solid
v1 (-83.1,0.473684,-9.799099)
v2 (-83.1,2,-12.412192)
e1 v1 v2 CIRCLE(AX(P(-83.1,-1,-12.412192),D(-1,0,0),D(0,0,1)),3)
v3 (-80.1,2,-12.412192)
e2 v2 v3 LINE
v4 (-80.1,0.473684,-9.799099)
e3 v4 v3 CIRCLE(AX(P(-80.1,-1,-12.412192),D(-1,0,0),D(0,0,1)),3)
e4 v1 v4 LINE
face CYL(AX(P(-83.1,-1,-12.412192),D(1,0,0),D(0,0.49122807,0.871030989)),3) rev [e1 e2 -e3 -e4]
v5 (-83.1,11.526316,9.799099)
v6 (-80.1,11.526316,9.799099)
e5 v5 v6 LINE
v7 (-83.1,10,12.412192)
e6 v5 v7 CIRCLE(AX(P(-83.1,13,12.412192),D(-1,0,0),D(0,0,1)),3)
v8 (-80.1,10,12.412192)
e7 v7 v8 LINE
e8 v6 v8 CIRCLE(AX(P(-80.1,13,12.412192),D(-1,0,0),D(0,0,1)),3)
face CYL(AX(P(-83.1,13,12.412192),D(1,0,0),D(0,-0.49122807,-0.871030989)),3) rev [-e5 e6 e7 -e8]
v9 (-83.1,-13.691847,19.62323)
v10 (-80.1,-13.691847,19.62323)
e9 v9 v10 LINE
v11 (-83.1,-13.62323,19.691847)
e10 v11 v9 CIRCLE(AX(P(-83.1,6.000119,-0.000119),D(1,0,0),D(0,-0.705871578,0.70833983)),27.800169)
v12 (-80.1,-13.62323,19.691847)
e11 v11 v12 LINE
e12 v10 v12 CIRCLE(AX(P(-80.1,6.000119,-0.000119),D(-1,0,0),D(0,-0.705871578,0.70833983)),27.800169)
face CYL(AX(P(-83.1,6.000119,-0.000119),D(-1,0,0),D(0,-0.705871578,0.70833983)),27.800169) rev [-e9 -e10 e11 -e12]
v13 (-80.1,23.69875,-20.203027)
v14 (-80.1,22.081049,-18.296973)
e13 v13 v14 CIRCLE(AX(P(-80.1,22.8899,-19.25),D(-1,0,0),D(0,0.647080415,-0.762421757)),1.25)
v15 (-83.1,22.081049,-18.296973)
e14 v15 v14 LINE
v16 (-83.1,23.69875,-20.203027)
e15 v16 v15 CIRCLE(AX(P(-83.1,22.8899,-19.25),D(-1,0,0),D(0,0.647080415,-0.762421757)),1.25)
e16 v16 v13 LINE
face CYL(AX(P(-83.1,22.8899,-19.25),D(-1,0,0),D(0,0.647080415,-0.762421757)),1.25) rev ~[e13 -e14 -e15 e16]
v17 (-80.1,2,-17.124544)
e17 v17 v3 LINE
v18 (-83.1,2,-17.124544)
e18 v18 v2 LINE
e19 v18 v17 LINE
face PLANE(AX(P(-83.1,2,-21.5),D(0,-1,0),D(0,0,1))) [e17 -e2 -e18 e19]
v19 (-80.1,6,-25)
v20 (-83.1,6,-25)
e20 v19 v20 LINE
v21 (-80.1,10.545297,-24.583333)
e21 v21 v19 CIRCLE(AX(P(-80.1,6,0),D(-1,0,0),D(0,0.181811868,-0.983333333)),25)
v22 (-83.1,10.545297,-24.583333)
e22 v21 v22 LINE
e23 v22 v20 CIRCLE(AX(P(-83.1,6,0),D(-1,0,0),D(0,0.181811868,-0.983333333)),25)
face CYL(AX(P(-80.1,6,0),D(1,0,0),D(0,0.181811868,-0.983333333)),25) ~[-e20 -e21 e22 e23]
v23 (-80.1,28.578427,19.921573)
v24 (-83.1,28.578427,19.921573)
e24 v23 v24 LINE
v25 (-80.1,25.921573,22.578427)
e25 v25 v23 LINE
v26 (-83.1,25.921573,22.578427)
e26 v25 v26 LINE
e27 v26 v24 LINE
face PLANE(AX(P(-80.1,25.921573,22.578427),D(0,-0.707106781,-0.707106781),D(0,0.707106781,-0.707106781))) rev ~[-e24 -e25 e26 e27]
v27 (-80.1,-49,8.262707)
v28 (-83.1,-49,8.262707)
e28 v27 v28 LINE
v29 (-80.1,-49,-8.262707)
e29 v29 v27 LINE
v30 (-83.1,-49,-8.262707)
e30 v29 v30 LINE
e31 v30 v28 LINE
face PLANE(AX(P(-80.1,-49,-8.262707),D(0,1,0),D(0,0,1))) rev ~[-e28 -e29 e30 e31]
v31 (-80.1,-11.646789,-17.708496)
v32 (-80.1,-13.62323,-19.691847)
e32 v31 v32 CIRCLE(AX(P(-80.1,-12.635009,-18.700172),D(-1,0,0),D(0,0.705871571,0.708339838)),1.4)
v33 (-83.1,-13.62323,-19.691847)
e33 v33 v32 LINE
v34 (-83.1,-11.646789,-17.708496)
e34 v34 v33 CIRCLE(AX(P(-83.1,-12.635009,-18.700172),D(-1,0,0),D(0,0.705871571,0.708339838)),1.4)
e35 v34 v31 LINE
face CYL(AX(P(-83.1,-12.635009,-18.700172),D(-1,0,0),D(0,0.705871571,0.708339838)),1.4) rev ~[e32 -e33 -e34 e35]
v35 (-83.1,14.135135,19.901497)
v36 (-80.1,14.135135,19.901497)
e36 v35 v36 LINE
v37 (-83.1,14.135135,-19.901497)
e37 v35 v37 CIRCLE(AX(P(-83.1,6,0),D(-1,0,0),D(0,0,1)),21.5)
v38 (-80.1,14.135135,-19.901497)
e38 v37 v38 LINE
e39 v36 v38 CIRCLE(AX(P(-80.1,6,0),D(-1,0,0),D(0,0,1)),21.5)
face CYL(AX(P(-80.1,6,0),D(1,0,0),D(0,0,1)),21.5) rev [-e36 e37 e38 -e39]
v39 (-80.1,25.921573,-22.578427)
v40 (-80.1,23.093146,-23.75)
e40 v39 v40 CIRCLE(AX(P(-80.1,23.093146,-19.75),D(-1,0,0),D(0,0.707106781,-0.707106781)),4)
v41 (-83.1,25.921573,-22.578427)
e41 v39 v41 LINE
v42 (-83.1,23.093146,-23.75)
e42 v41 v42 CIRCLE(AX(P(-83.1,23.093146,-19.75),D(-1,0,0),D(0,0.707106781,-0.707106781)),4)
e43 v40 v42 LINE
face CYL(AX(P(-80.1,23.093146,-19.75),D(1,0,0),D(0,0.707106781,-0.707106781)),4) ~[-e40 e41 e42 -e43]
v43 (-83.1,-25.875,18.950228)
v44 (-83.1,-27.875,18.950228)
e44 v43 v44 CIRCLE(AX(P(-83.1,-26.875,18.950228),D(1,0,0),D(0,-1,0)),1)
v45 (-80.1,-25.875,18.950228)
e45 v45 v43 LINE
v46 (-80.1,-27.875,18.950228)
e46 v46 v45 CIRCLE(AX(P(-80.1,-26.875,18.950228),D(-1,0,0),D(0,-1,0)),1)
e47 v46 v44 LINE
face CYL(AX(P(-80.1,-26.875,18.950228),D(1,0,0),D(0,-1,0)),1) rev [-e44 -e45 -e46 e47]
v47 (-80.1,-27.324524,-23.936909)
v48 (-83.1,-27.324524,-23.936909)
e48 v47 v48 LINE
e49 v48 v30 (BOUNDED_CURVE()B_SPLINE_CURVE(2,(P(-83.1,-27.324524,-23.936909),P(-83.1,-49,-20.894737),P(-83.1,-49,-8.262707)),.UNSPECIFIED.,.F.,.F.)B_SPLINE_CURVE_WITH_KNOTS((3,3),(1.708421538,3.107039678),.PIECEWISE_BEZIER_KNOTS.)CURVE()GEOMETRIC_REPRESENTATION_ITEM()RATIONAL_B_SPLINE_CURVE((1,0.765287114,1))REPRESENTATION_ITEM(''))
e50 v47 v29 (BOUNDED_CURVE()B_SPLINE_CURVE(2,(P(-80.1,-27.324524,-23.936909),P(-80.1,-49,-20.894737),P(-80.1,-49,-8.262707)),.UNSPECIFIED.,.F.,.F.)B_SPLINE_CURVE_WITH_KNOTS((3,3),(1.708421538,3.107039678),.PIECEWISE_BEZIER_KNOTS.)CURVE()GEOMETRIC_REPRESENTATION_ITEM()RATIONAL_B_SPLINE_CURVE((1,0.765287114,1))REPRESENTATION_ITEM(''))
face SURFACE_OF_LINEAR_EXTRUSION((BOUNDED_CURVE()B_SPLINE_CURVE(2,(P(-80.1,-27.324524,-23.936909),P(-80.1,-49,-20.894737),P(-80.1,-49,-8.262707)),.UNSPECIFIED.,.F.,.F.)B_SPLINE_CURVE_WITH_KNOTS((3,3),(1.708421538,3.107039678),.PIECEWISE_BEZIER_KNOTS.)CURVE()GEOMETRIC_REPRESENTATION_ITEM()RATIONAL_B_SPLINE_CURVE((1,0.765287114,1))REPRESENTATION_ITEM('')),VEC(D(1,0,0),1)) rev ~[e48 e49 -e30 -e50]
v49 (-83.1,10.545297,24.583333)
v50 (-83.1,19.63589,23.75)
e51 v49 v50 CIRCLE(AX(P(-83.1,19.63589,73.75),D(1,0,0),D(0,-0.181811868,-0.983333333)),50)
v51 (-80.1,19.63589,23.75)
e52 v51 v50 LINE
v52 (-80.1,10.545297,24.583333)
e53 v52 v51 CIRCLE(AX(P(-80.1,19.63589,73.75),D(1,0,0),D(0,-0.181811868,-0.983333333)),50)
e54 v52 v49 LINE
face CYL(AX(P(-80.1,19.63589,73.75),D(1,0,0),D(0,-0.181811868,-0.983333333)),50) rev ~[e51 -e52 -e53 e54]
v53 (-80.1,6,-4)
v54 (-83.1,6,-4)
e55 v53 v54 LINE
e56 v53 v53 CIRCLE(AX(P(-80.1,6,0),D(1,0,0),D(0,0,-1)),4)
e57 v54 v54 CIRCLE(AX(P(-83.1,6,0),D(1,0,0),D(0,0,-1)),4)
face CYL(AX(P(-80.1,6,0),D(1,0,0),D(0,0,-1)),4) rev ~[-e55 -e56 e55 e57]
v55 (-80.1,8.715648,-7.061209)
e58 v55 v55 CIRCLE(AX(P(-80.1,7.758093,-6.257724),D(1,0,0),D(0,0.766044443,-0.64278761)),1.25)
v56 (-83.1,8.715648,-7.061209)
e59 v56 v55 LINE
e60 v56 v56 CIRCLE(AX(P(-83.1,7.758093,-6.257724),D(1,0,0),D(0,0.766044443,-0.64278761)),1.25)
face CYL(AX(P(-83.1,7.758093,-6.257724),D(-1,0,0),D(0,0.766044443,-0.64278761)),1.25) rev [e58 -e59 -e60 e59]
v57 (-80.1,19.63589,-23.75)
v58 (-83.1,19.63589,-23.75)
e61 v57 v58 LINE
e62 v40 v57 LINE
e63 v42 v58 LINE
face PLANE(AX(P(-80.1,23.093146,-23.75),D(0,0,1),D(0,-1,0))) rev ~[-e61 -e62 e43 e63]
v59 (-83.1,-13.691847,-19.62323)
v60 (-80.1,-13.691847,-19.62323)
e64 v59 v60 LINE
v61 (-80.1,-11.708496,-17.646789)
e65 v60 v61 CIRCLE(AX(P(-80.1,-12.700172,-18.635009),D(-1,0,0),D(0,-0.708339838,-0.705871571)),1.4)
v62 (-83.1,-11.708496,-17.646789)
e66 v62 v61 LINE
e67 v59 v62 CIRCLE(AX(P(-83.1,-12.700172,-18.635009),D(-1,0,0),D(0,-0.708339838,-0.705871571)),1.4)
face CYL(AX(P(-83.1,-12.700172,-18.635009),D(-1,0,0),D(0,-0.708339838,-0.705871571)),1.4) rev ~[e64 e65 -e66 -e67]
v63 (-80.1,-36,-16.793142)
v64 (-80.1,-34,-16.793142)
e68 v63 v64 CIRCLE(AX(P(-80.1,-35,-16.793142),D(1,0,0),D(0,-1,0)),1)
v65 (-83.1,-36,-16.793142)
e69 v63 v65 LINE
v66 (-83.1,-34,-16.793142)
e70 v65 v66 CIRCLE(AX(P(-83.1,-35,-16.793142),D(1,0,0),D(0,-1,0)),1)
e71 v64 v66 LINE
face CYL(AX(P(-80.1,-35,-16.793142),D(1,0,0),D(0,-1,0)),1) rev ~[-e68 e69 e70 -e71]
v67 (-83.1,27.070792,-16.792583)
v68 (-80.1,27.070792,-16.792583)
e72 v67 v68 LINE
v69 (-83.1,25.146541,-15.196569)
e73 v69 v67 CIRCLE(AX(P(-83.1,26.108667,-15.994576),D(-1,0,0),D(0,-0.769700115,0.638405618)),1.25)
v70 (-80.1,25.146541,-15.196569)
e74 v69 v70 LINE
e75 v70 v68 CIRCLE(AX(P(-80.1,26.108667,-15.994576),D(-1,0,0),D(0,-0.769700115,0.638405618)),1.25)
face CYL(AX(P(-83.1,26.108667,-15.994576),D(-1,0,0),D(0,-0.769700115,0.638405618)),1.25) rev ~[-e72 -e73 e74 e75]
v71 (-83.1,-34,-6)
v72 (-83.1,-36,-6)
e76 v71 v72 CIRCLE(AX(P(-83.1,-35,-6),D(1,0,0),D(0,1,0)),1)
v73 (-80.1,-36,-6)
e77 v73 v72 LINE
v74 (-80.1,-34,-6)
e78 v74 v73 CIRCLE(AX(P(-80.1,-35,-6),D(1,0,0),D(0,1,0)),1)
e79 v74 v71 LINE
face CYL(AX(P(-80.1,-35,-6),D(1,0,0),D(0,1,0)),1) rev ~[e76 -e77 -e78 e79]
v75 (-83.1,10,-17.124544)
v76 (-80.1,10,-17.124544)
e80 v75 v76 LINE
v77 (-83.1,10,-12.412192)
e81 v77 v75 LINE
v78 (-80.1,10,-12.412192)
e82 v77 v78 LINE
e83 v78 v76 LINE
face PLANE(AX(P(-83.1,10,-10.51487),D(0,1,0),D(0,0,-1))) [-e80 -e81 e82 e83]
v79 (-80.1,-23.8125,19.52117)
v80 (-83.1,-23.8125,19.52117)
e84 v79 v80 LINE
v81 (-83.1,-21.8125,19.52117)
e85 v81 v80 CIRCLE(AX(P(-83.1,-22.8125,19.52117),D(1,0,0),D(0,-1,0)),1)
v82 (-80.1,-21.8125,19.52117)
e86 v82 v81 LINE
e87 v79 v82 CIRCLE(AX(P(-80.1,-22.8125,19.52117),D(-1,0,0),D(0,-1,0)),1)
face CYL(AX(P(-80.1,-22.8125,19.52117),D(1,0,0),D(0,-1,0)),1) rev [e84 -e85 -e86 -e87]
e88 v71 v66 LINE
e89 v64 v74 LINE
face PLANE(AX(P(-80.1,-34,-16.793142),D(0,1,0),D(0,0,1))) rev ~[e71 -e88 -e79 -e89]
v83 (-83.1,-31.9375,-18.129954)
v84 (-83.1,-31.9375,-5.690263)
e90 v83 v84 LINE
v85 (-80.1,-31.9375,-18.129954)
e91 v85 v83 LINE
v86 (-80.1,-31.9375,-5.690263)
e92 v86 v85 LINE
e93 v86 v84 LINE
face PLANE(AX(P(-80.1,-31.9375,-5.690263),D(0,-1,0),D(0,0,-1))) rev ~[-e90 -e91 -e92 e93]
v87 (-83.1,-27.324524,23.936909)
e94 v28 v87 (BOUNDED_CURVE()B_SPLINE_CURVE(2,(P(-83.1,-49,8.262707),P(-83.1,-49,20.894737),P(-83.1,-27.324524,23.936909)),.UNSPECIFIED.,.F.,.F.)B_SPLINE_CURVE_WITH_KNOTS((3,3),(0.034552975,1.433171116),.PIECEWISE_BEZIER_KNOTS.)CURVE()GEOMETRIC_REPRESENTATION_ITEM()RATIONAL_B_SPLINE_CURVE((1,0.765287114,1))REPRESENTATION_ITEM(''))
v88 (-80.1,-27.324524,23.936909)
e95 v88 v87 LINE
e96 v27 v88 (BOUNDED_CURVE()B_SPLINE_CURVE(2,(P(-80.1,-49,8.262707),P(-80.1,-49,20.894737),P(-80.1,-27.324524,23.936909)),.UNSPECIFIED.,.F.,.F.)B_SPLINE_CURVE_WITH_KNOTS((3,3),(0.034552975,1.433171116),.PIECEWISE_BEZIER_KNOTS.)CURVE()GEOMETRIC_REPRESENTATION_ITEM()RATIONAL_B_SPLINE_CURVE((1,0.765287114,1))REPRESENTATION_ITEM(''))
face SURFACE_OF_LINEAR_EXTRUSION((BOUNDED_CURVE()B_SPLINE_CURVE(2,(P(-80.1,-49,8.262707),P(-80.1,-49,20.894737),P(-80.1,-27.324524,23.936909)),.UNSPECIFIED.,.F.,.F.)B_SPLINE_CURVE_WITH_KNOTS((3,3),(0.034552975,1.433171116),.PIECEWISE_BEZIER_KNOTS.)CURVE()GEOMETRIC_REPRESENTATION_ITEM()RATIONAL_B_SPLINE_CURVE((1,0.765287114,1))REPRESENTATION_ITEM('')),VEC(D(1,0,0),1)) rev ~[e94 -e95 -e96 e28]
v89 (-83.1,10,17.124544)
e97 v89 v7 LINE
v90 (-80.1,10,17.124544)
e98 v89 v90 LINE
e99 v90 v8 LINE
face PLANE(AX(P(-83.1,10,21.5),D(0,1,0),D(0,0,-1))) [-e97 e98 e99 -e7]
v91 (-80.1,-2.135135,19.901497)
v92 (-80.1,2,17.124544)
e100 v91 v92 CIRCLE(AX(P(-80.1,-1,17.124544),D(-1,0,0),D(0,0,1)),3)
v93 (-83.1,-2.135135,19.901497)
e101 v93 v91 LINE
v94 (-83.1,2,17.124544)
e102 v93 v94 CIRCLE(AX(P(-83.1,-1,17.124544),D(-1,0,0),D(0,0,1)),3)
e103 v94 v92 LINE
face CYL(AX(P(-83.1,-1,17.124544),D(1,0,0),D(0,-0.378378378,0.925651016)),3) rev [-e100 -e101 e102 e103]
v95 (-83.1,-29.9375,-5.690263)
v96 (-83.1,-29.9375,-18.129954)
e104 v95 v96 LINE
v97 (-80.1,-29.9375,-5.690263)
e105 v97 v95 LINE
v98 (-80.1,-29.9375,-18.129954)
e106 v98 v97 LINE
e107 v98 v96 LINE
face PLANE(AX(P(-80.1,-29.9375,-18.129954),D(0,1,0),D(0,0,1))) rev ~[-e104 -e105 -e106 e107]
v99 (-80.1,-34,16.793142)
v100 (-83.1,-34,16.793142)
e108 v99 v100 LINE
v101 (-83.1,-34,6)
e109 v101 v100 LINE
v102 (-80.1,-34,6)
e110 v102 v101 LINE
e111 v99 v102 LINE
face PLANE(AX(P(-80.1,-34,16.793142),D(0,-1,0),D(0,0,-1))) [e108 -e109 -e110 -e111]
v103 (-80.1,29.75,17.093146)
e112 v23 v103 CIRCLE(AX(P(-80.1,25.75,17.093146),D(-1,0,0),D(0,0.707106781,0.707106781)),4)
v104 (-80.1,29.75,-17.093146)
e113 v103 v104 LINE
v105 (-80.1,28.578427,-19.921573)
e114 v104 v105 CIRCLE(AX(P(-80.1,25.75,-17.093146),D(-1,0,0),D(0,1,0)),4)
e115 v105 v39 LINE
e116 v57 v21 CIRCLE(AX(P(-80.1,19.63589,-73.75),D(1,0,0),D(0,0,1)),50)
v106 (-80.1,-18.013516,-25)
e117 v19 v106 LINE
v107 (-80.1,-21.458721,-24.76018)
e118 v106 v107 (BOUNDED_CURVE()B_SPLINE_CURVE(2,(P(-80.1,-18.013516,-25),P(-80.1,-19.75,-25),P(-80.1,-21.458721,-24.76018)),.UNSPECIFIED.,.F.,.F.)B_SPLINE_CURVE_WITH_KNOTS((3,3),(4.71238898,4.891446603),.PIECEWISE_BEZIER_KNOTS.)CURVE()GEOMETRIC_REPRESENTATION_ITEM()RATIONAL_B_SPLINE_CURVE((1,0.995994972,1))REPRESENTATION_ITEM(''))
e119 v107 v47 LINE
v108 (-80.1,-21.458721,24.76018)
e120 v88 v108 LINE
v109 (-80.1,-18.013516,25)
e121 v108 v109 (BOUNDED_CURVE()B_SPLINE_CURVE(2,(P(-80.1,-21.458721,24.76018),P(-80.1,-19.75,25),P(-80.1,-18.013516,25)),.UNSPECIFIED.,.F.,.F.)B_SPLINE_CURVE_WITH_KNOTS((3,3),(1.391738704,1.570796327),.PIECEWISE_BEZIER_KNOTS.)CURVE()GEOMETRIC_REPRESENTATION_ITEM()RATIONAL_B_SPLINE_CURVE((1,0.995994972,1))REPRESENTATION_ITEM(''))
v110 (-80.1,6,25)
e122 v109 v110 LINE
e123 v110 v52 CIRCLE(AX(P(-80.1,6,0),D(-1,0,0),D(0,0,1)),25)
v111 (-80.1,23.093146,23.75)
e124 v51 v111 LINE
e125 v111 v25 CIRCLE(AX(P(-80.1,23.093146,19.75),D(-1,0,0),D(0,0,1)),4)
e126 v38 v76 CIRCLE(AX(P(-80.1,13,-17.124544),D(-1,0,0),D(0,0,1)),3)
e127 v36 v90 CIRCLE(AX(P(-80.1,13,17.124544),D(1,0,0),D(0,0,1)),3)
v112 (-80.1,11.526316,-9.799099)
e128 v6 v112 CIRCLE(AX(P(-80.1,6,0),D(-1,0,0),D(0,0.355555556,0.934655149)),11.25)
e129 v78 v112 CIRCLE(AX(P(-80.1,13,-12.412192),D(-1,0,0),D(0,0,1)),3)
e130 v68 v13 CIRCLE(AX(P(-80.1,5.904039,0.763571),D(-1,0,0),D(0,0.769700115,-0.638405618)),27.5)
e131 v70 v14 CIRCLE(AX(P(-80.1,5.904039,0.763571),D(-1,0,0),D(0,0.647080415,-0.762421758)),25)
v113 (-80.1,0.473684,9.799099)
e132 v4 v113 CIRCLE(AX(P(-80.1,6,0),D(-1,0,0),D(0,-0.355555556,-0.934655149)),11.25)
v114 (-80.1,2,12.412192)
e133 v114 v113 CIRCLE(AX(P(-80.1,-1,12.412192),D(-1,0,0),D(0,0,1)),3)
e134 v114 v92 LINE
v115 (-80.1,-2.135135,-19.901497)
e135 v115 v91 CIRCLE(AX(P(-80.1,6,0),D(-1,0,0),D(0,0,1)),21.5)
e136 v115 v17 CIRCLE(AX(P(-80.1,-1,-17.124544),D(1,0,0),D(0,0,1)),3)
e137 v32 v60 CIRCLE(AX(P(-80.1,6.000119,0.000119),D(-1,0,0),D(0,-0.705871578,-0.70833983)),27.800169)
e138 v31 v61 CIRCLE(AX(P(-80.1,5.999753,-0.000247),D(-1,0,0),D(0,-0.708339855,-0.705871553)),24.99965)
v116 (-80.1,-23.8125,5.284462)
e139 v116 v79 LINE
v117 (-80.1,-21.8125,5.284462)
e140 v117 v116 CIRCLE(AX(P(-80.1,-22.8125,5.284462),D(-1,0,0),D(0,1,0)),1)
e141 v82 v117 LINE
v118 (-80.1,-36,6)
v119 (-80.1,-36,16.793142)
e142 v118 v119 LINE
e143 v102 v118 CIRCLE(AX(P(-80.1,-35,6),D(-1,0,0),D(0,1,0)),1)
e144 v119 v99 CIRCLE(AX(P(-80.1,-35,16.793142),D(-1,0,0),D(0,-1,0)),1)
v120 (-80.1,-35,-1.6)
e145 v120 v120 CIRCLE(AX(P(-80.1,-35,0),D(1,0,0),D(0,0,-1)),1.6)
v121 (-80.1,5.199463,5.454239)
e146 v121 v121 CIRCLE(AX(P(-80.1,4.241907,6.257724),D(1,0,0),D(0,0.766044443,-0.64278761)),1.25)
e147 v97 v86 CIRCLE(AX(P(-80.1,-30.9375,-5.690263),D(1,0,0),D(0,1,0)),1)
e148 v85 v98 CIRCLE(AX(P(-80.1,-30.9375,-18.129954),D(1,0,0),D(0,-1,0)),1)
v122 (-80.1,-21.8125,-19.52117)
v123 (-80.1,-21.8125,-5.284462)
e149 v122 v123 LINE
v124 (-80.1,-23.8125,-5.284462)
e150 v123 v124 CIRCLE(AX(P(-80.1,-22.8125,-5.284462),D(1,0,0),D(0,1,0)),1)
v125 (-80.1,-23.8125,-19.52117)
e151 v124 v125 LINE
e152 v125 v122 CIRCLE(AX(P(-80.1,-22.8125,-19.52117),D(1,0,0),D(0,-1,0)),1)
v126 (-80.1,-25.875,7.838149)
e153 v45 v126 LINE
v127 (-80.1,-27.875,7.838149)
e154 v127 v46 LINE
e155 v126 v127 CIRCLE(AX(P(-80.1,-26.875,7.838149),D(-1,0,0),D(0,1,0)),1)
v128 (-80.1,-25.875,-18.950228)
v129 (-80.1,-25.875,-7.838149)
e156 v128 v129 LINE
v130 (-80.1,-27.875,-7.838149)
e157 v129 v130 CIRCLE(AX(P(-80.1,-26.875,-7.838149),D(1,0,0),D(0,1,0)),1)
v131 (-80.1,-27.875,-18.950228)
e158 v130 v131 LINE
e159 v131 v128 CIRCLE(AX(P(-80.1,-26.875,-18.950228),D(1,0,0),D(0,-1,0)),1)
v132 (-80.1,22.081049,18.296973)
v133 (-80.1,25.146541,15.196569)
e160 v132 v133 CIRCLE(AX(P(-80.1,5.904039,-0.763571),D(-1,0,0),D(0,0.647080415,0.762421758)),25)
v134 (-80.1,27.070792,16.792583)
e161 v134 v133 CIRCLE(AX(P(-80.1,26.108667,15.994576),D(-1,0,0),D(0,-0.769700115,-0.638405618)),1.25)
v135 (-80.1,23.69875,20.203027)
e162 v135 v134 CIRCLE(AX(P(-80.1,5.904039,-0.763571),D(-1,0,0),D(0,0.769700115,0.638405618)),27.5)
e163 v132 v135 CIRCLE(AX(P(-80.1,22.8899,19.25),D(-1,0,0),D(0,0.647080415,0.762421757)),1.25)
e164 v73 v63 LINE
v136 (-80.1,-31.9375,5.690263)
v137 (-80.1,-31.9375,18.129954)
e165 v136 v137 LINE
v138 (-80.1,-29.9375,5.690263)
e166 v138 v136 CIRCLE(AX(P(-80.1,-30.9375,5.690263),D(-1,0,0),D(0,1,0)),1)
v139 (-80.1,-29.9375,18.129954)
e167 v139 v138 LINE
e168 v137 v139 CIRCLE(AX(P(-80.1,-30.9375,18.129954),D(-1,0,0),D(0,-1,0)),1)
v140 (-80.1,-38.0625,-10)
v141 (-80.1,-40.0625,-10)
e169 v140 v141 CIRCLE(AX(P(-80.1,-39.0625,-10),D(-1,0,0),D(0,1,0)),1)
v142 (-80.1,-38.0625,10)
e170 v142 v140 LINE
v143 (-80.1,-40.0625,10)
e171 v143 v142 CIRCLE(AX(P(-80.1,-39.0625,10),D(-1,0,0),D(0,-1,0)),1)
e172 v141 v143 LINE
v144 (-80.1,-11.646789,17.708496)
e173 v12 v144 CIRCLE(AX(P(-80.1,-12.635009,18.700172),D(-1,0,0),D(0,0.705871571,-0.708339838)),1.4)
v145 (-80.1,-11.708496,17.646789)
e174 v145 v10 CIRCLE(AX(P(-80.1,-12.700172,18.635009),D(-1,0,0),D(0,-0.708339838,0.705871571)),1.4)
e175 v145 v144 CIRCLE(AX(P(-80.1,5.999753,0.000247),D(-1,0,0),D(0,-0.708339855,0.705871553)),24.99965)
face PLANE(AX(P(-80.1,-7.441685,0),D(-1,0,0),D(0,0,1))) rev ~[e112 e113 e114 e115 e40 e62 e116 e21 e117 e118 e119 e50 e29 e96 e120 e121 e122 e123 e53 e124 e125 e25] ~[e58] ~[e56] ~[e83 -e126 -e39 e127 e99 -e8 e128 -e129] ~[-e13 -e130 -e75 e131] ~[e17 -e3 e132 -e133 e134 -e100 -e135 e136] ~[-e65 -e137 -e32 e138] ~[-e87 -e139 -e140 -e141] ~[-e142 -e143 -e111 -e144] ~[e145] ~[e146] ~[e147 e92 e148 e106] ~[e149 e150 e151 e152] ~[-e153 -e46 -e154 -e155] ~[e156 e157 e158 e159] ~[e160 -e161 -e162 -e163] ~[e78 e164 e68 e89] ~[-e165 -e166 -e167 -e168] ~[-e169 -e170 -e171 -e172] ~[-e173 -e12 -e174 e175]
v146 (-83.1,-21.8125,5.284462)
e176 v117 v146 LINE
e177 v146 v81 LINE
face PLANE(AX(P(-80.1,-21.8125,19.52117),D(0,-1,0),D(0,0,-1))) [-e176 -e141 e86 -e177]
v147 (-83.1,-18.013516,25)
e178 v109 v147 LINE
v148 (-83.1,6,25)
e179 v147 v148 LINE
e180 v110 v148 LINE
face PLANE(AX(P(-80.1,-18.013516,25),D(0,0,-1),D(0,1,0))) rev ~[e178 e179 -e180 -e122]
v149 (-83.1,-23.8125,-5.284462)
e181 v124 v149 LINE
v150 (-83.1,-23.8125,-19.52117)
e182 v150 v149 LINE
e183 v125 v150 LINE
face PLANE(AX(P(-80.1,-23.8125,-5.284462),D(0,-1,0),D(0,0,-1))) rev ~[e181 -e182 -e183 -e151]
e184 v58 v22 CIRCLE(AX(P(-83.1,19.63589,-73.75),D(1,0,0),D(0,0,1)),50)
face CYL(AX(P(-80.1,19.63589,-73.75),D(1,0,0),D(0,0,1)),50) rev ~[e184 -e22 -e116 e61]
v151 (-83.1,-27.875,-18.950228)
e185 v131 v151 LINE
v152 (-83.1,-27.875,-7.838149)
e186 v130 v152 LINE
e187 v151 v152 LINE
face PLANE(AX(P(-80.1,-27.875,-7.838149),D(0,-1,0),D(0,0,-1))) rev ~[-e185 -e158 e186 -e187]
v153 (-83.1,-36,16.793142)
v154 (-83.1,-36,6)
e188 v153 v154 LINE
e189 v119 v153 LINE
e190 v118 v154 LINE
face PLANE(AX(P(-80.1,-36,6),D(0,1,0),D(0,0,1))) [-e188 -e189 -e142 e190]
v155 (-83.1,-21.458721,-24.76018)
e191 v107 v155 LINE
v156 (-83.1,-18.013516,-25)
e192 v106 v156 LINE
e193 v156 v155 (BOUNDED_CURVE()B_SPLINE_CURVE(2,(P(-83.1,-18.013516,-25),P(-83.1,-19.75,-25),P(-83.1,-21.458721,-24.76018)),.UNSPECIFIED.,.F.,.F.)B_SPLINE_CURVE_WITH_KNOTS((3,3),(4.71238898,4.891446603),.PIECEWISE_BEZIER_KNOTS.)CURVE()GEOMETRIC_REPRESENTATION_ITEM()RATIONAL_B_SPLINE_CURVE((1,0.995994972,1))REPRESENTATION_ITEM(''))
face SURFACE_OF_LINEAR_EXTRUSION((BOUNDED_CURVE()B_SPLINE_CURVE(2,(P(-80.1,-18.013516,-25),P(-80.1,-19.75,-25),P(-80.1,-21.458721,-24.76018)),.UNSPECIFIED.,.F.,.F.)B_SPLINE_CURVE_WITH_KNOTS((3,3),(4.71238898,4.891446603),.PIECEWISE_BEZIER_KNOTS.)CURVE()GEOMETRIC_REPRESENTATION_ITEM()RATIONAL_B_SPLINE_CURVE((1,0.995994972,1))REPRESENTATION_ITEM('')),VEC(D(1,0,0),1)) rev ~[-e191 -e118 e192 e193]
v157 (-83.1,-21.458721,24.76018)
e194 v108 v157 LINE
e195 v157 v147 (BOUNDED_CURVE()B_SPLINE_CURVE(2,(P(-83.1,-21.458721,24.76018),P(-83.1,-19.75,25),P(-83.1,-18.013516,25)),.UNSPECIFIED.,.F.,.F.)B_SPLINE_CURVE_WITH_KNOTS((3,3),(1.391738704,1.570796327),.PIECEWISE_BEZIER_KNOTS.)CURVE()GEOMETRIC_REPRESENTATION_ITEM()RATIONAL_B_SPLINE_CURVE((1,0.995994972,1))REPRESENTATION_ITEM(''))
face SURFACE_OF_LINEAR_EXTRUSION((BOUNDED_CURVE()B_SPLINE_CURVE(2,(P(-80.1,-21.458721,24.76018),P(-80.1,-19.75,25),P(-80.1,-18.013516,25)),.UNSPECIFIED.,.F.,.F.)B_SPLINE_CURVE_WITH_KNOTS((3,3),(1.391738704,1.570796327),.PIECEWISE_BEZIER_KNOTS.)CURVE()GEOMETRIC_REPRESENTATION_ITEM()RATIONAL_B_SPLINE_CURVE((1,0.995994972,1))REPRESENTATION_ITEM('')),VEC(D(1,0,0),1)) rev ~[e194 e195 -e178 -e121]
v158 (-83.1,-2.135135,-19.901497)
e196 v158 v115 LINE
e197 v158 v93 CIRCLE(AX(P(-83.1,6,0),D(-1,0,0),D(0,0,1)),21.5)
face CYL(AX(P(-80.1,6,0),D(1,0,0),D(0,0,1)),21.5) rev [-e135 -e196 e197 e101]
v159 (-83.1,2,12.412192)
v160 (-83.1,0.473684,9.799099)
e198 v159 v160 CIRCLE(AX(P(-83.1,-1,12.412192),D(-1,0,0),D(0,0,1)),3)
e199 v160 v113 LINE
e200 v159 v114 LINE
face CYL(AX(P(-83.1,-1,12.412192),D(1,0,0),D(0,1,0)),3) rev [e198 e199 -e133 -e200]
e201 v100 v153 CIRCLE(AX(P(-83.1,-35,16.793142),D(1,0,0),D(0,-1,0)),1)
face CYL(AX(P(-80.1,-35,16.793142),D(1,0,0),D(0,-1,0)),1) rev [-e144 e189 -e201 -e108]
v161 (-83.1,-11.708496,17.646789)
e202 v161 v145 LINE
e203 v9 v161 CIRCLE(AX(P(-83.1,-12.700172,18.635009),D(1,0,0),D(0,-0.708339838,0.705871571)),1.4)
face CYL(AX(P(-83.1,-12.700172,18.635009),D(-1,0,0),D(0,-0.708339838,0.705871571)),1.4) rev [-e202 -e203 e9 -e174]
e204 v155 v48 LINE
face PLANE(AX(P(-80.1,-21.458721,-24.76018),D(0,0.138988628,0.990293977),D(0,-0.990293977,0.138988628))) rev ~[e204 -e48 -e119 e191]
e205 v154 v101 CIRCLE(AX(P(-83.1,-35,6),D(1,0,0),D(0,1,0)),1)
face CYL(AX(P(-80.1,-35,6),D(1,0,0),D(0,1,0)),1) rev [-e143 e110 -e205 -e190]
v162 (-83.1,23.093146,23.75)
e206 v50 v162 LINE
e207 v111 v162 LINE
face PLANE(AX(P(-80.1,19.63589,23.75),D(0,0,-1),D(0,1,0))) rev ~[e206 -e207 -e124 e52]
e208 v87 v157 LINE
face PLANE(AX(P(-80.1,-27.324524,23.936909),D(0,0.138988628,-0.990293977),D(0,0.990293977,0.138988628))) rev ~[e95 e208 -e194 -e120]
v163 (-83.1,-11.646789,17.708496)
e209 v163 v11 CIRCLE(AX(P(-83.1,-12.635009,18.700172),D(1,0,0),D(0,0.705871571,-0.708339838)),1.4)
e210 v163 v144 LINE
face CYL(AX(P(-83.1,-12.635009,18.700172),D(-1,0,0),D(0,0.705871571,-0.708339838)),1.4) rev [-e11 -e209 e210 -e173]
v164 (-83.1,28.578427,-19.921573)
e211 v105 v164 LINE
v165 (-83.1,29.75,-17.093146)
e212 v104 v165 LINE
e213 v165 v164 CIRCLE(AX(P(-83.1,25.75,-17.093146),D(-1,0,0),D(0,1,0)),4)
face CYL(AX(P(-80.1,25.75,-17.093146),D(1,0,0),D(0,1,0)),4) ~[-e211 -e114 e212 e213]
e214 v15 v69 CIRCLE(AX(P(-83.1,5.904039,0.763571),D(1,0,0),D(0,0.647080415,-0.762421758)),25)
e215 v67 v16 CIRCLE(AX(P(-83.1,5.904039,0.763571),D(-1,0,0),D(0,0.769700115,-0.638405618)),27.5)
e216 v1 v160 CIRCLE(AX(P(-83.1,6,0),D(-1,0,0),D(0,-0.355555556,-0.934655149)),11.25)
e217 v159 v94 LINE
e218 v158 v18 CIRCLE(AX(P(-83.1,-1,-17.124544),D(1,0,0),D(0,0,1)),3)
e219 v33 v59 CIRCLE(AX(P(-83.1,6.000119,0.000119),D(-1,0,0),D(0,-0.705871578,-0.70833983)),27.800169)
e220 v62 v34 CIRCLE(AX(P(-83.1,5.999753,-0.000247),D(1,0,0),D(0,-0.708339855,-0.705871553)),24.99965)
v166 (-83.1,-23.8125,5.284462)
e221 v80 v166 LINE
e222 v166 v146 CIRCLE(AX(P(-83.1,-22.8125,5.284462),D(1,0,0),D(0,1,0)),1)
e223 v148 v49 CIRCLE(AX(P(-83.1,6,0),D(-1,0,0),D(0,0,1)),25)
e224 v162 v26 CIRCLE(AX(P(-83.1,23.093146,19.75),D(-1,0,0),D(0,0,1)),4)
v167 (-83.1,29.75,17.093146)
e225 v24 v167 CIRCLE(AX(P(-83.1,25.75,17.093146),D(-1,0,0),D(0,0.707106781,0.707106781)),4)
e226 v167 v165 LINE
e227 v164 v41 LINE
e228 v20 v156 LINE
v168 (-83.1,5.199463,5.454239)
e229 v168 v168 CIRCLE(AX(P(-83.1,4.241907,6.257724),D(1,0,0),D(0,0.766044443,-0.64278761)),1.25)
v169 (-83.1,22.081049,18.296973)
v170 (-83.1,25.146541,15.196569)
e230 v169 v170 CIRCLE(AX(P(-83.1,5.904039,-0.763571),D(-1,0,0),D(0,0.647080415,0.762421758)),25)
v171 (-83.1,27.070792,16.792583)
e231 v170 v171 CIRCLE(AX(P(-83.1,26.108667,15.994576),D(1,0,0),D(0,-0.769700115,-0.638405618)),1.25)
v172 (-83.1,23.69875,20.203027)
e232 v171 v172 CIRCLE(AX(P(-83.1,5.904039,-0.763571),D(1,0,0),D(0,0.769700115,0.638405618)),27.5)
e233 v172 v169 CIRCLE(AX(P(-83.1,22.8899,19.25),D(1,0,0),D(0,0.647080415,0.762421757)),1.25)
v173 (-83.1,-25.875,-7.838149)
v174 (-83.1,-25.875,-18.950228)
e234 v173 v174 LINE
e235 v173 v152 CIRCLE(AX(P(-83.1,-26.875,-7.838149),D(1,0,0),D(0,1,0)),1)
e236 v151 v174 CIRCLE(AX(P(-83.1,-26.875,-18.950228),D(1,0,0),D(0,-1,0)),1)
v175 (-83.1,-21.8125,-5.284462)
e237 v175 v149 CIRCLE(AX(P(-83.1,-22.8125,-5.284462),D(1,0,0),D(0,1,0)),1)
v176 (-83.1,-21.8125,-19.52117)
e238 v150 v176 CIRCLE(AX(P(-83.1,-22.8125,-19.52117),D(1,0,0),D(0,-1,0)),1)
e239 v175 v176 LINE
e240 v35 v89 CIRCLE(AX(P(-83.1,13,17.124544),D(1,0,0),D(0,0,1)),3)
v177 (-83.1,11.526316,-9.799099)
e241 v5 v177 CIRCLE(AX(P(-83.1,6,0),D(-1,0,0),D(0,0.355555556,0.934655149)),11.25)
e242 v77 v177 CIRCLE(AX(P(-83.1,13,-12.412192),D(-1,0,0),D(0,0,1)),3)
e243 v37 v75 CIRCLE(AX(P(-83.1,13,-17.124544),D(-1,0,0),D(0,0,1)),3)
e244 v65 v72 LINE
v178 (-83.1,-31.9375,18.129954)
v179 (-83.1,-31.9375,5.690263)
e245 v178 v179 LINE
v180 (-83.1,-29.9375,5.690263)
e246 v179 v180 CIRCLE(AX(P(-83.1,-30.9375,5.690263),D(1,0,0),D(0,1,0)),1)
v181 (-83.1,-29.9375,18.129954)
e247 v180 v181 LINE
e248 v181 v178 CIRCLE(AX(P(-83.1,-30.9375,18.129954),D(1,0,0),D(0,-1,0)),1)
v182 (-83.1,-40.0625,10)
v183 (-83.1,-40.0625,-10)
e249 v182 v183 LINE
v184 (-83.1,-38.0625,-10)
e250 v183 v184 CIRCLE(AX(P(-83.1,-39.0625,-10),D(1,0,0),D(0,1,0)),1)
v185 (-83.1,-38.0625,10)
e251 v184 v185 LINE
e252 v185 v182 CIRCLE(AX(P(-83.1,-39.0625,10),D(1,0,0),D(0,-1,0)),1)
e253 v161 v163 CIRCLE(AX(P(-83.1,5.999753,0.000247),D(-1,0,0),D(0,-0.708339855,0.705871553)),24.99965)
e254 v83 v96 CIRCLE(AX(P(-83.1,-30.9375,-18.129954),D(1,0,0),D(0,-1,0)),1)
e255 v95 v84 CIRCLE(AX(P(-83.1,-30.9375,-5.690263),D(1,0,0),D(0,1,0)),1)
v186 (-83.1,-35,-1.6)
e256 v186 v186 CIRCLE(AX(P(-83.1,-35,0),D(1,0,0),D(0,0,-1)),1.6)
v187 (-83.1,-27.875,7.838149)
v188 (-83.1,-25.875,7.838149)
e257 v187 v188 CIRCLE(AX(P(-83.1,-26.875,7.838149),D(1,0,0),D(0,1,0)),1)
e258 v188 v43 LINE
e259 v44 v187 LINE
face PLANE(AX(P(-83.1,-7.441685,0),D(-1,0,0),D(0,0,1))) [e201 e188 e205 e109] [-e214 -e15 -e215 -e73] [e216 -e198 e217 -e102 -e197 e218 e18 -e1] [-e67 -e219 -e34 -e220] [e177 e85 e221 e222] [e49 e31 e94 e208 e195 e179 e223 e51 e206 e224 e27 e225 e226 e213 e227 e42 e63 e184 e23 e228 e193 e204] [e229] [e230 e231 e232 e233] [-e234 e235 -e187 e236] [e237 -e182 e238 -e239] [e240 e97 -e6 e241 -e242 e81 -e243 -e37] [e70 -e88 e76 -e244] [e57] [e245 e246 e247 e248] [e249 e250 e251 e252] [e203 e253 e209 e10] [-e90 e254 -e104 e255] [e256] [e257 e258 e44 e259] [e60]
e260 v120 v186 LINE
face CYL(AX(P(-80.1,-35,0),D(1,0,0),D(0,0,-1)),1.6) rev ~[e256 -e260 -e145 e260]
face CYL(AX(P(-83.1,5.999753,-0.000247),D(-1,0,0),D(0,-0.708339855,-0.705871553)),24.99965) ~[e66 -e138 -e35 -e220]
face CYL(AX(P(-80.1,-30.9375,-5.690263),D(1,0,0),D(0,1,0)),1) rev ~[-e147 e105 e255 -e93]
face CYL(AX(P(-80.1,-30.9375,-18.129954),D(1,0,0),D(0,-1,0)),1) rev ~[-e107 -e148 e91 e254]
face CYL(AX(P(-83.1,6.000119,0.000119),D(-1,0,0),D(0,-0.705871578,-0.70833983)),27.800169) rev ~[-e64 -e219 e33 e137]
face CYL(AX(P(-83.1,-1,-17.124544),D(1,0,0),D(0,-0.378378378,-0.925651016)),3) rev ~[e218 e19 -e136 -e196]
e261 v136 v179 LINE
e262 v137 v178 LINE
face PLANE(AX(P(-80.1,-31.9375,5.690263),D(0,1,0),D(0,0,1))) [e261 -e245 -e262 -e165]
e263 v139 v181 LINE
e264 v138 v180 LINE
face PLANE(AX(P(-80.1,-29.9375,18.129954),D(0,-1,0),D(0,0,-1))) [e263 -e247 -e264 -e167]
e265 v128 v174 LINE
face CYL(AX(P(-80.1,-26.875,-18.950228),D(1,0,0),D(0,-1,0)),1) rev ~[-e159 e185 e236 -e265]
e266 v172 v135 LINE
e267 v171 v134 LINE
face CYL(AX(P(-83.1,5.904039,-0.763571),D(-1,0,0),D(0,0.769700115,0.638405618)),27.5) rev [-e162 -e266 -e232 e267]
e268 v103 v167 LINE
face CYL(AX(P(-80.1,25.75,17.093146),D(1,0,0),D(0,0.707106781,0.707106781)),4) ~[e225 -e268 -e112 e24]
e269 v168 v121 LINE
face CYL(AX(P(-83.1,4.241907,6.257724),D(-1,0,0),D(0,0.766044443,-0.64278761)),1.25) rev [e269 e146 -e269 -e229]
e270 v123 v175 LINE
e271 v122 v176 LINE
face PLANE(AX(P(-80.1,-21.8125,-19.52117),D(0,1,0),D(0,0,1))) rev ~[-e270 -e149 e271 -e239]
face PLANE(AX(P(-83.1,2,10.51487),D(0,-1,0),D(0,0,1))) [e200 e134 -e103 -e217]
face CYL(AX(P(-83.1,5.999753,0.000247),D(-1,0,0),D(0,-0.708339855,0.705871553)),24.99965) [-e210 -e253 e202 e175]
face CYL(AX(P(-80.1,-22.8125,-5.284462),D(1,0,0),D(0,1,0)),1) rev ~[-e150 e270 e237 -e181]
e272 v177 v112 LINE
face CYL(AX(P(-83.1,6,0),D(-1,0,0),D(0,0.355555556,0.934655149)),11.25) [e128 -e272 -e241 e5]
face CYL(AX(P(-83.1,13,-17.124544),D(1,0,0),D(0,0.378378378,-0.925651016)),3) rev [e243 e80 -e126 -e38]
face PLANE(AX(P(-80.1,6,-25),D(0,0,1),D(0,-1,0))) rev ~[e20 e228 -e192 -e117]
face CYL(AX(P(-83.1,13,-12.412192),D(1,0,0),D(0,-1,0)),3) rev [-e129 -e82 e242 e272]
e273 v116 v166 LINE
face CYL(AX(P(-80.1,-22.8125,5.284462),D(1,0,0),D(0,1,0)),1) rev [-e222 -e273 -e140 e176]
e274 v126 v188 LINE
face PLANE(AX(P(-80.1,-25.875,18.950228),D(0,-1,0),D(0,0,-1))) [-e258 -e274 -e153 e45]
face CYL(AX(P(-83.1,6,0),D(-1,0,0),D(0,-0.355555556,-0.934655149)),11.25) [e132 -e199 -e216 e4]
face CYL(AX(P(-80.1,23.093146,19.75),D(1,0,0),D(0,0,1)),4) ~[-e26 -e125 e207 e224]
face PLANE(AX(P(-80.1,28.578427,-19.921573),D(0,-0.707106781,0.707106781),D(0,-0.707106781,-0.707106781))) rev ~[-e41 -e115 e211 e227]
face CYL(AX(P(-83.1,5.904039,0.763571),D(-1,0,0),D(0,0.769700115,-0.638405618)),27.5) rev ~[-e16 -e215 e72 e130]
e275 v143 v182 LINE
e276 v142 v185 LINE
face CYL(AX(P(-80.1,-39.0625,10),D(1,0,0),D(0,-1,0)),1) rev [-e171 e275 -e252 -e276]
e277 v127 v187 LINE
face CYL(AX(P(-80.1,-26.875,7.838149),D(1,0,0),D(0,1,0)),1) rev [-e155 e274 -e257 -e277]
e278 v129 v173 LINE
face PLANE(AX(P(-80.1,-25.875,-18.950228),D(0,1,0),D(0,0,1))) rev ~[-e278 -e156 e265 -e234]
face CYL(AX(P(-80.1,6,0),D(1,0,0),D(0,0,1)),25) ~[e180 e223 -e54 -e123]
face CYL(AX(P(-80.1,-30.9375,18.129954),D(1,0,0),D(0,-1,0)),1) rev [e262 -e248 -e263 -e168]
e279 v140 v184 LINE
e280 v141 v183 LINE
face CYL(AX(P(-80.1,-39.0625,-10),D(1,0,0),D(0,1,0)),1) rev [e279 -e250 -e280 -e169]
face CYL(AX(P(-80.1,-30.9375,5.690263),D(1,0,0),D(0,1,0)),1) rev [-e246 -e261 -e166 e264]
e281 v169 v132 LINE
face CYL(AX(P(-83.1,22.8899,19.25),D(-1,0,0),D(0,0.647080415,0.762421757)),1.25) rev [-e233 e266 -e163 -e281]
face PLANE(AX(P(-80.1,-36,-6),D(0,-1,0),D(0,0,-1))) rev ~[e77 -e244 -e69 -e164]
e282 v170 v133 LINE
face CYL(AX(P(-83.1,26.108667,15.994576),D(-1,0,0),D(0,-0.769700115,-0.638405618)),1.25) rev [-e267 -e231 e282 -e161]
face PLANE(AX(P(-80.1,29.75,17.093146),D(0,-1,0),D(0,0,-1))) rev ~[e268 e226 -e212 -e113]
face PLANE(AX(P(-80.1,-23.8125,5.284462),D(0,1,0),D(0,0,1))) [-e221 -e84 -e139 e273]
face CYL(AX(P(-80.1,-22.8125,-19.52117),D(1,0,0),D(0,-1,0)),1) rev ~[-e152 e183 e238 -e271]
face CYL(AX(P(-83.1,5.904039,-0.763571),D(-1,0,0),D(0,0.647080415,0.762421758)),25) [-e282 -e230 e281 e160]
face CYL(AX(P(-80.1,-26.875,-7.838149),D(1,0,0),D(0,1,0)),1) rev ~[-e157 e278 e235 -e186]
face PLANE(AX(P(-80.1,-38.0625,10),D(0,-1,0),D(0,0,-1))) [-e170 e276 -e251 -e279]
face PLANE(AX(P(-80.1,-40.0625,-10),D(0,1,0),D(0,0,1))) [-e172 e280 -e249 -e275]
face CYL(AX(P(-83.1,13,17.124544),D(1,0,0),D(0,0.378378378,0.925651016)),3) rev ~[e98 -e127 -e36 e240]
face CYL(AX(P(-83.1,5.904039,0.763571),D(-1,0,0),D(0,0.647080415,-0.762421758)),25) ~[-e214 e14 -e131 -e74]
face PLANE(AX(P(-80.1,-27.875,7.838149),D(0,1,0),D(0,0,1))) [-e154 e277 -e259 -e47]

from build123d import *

# Parameters (mm, degrees)
SKETCH2_R           = 21.5
BOSS_EXTRUDE1_DEPTH = 3
CUT_EXTRUDE1_DEPTH  = 4.0000001
SKETCH4_R           = 1.6
CUT_EXTRUDE2_DEPTH  = 4.0000001
CUT_EXTRUDE3_DEPTH  = 4.0000001
BOSS_EXTRUDE3_DEPTH = 3
FILLET1_R           = 3
SKETCH7_R           = 4
CUT_EXTRUDE4_DEPTH  = 4.0000001


with BuildPart() as part:
    # Sketch2 → Boss-Extrude1 (new body)
    with BuildSketch(Plane.ZY.offset(80.1)):
        with BuildLine():
            ThreePointArc((-17.093145751, 29.75), (-18.62387948, 29.44551813), (-19.921572875, 28.578427125))
            Line((-19.921572875, 28.578427125), (-22.578427125, 25.921572875))
            ThreePointArc((-22.578427125, 25.921572875), (-23.44551813, 24.62387948), (-23.75, 23.093145751))
            Line((-23.75, 23.093145751), (-23.75, 19.635890143))
            ThreePointArc((-23.75, 19.635890143), (-23.958769179, 15.071535497), (-24.583333333, 10.545296714))
            ThreePointArc((-24.583333333, 10.545296714), (-24.89561541, 8.282177323), (-25, 6))
            Line((-25, 6), (-25, -18.013516259))
            add(Edge.make_bspline(
                [(-25, -18.013516259), (-25, -19.75), (-24.760179539, -21.458720786)],
                knots=[4.71238898, 4.71238898, 4.71238898, 4.891446603, 4.891446603, 4.891446603], degree=2, weights=[1, 0.995994972, 1]))
            Line((-24.760179539, -21.458720786), (-23.936908844, -27.324524486))
            add(Edge.make_bspline(
                [(-23.936908844, -27.324524486), (-20.894736842, -49), (-8.26270655, -49)],
                knots=[1.708421538, 1.708421538, 1.708421538, 3.107039678, 3.107039678, 3.107039678], degree=2, weights=[1, 0.765287114, 1]))
            Line((-8.26270655, -49), (8.26270655, -49))
            add(Edge.make_bspline(
                [(8.26270655, -49), (20.894736842, -49), (23.936908844, -27.324524486)],
                knots=[0.034552975, 0.034552975, 0.034552975, 1.433171116, 1.433171116, 1.433171116], degree=2, weights=[1, 0.765287114, 1]))
            Line((23.936908844, -27.324524486), (24.760179539, -21.458720786))
            add(Edge.make_bspline(
                [(24.760179539, -21.458720786), (25, -19.75), (25, -18.013516259)],
                knots=[1.391738704, 1.391738704, 1.391738704, 1.570796327, 1.570796327, 1.570796327], degree=2, weights=[1, 0.995994972, 1]))
            Line((25, -18.013516259), (25, 6))
            ThreePointArc((25, 6), (24.89561541, 8.282177323), (24.583333333, 10.545296714))
            ThreePointArc((24.583333333, 10.545296714), (23.958769179, 15.071535497), (23.75, 19.635890143))
            Line((23.75, 19.635890143), (23.75, 23.093145751))
            ThreePointArc((23.75, 23.093145751), (23.44551813, 24.62387948), (22.578427125, 25.921572875))
            Line((22.578427125, 25.921572875), (19.921572875, 28.578427125))
            ThreePointArc((19.921572875, 28.578427125), (18.62387948, 29.44551813), (17.093145751, 29.75))
            Line((17.093145751, 29.75), (-17.093145751, 29.75))
        make_face()
        with Locations((0, 6)):
            Circle(SKETCH2_R, mode=Mode.SUBTRACT)
    extrude(amount=BOSS_EXTRUDE1_DEPTH)

    # Sketch3 → Cut-Extrude1 (cut, through all)
    with BuildSketch(Plane.ZY.offset(83.1)):
        with BuildLine():
            ThreePointArc((-15.196569313, 25.146541488), (-15.032451192, 26.906673654), (-16.792583358, 27.070791775))
            ThreePointArc((-16.792583358, 27.070791775), (-18.571456346, 25.459260737), (-20.203027197, 23.698750028))
            ThreePointArc((-20.203027197, 23.698750028), (-20.058850519, 21.936872312), (-18.296972803, 22.081048991))
            ThreePointArc((-18.296972803, 22.081048991), (-16.813726575, 23.681513271), (-15.196569313, 25.146541488))
        make_face()
        with BuildLine():
            ThreePointArc((-19.691847489, -13.623229665), (-19.657568517, -13.657568517), (-19.623229665, -13.691847489))
            ThreePointArc((-19.623229665, -13.691847489), (-17.643333693, -13.688391915), (-17.646789267, -11.708495943))
            ThreePointArc((-17.646789267, -11.708495943), (-17.67766953, -11.67766953), (-17.708495943, -11.646789267))
            ThreePointArc((-17.708495943, -11.646789267), (-19.688391915, -11.643333693), (-19.691847489, -13.623229665))
        make_face()
        with BuildLine():
            ThreePointArc((17.646789267, -11.708495943), (17.67766953, -11.67766953), (17.708495943, -11.646789267))
            ThreePointArc((17.708495943, -11.646789267), (19.688391915, -11.643333693), (19.691847489, -13.623229665))
            ThreePointArc((19.691847489, -13.623229665), (19.657568517, -13.657568517), (19.623229665, -13.691847489))
            ThreePointArc((19.623229665, -13.691847489), (17.643333693, -13.688391915), (17.646789267, -11.708495943))
        make_face()
        with BuildLine():
            ThreePointArc((18.296972803, 22.081048991), (16.813726575, 23.681513271), (15.196569313, 25.146541488))
            ThreePointArc((15.196569313, 25.146541488), (15.032451192, 26.906673654), (16.792583358, 27.070791775))
            ThreePointArc((16.792583358, 27.070791775), (18.571456346, 25.459260737), (20.203027197, 23.698750028))
            ThreePointArc((20.203027197, 23.698750028), (20.058850519, 21.936872312), (18.296972803, 22.081048991))
        make_face()
    extrude(amount=-CUT_EXTRUDE1_DEPTH, mode=Mode.SUBTRACT)

    # Sketch4 → Cut-Extrude2 (cut, through all)
    with BuildSketch(Plane(origin=(-80.1, 0, 0), x_dir=(0, 0, -1), z_dir=(1, 0, 0))):
        with Locations((0, -35)):
            Circle(SKETCH4_R)
    extrude(amount=-CUT_EXTRUDE2_DEPTH, mode=Mode.SUBTRACT)

    # Sketch5 → Cut-Extrude3 (cut, through all)
    with BuildSketch(Plane(origin=(-80.1, 0, 0), x_dir=(0, 0, -1), z_dir=(1, 0, 0))):
        with BuildLine():
            Line((-19.521169673, -21.8125), (-5.284461571, -21.8125))
            ThreePointArc((-5.284461571, -21.8125), (-4.284461571, -22.8125), (-5.284461571, -23.8125))
            Line((-5.284461571, -23.8125), (-19.521169673, -23.8125))
            ThreePointArc((-19.521169673, -23.8125), (-20.521169673, -22.8125), (-19.521169673, -21.8125))
        make_face()
        with BuildLine():
            Line((-18.950227736, -25.875), (-7.838149252, -25.875))
            ThreePointArc((-7.838149252, -25.875), (-6.838149252, -26.875), (-7.838149252, -27.875))
            Line((-7.838149252, -27.875), (-18.950227736, -27.875))
            ThreePointArc((-18.950227736, -27.875), (-19.950227736, -26.875), (-18.950227736, -25.875))
        make_face()
        with BuildLine():
            Line((-16.793141988, -34), (-6, -34))
            ThreePointArc((-6, -34), (-5, -35), (-6, -36))
            Line((-6, -36), (-16.793141988, -36))
            ThreePointArc((-16.793141988, -36), (-17.793141988, -35), (-16.793141988, -34))
        make_face()
        with BuildLine():
            Line((-10, -38.0625), (10, -38.0625))
            ThreePointArc((10, -38.0625), (11, -39.0625), (10, -40.0625))
            Line((10, -40.0625), (-10, -40.0625))
            ThreePointArc((-10, -40.0625), (-11, -39.0625), (-10, -38.0625))
        make_face()
        with BuildLine():
            Line((-18.129953736, -29.9375), (-5.690263266, -29.9375))
            ThreePointArc((-5.690263266, -29.9375), (-4.690263266, -30.9375), (-5.690263266, -31.9375))
            Line((-5.690263266, -31.9375), (-18.129953736, -31.9375))
            ThreePointArc((-18.129953736, -31.9375), (-19.129953736, -30.9375), (-18.129953736, -29.9375))
        make_face()
        with BuildLine():
            Line((19.521169673, -21.8125), (5.284461571, -21.8125))
            ThreePointArc((5.284461571, -21.8125), (4.284461571, -22.8125), (5.284461571, -23.8125))
            Line((5.284461571, -23.8125), (19.521169673, -23.8125))
            ThreePointArc((19.521169673, -23.8125), (20.521169673, -22.8125), (19.521169673, -21.8125))
        make_face()
        with BuildLine():
            Line((18.950227736, -25.875), (7.838149252, -25.875))
            ThreePointArc((7.838149252, -25.875), (6.838149252, -26.875), (7.838149252, -27.875))
            Line((7.838149252, -27.875), (18.950227736, -27.875))
            ThreePointArc((18.950227736, -27.875), (19.950227736, -26.875), (18.950227736, -25.875))
        make_face()
        with BuildLine():
            Line((16.793141988, -34), (6, -34))
            ThreePointArc((6, -34), (5, -35), (6, -36))
            Line((6, -36), (16.793141988, -36))
            ThreePointArc((16.793141988, -36), (17.793141988, -35), (16.793141988, -34))
        make_face()
        with BuildLine():
            Line((18.129953736, -29.9375), (5.690263266, -29.9375))
            ThreePointArc((5.690263266, -29.9375), (4.690263266, -30.9375), (5.690263266, -31.9375))
            Line((5.690263266, -31.9375), (18.129953736, -31.9375))
            ThreePointArc((18.129953736, -31.9375), (19.129953736, -30.9375), (18.129953736, -29.9375))
        make_face()
    extrude(amount=-CUT_EXTRUDE3_DEPTH, mode=Mode.SUBTRACT)

    # Sketch6 → Boss-Extrude3 (add)
    with BuildSketch(Plane.ZY.offset(83.1)):
        with BuildLine():
            Line((-21.5, 2), (-10.514870422, 2))
            ThreePointArc((-10.514870422, 2), (-11.25, 6), (-10.514870422, 10))
            Line((-10.514870422, 10), (-21.5, 10))
            Line((-21.5, 10), (-21.5, 2))
        make_face()
        with BuildLine():
            Line((-10.514870422, 2), (10.514870422, 2))
            ThreePointArc((10.514870422, 2), (11.064691416, 3.966504518), (11.25, 6))
            ThreePointArc((11.25, 6), (11.064691416, 8.033495482), (10.514870422, 10))
            Line((10.514870422, 10), (-10.514870422, 10))
            ThreePointArc((-10.514870422, 10), (-11.25, 6), (-10.514870422, 2))
        make_face()
        with BuildLine():
            ThreePointArc((7.061208501, 3.284351593), (5.300168435, 3.438422635), (5.454239477, 5.199462701))
            ThreePointArc((5.454239477, 5.199462701), (7.215279543, 5.045391659), (7.061208501, 3.284351593))
        make_face(mode=Mode.SUBTRACT)
        with BuildLine():
            ThreePointArc((-5.454239477, 6.800537299), (-7.215279543, 6.954608341), (-7.061208501, 8.715648407))
            ThreePointArc((-7.061208501, 8.715648407), (-5.300168435, 8.561577365), (-5.454239477, 6.800537299))
        make_face(mode=Mode.SUBTRACT)
        with BuildLine():
            Line((-10.514870422, 10), (10.514870422, 10))
            ThreePointArc((10.514870422, 10), (0, 17.25), (-10.514870422, 10))
        make_face()
        with BuildLine():
            ThreePointArc((-10.514870422, 2), (0, -5.25), (10.514870422, 2))
            Line((10.514870422, 2), (-10.514870422, 2))
        make_face()
        with BuildLine():
            Line((10.514870422, 2), (21.5, 2))
            Line((21.5, 2), (21.5, 10))
            Line((21.5, 10), (10.514870422, 10))
            ThreePointArc((10.514870422, 10), (11.064691416, 8.033495482), (11.25, 6))
            ThreePointArc((11.25, 6), (11.064691416, 3.966504518), (10.514870422, 2))
        make_face()
    extrude(amount=-BOSS_EXTRUDE3_DEPTH)

    # Fillet1
    fillet1_edges = [part.edges().sort_by_distance(p)[0] for p in [
        (-81.6, 2, -21.124630174),
        (-81.6, 10, -21.124630174),
        (-81.6, 10, 21.124630174),
        (-81.6, 2, 21.124630174),
        (-81.6, 2, 10.514870422),
        (-81.6, 10, 10.514870422),
        (-81.6, 10, -10.514870422),
        (-81.6, 2, -10.514870422),
    ]]
    fillet(fillet1_edges, radius=FILLET1_R)

    # Sketch7 → Cut-Extrude4 (cut, through all)
    with BuildSketch(Plane(origin=(-80.1, 0, 0), x_dir=(0, 0, -1), z_dir=(1, 0, 0))):
        with Locations((0, 6)):
            Circle(SKETCH7_R)
    extrude(amount=-CUT_EXTRUDE4_DEPTH, mode=Mode.SUBTRACT)


solid = part.part
